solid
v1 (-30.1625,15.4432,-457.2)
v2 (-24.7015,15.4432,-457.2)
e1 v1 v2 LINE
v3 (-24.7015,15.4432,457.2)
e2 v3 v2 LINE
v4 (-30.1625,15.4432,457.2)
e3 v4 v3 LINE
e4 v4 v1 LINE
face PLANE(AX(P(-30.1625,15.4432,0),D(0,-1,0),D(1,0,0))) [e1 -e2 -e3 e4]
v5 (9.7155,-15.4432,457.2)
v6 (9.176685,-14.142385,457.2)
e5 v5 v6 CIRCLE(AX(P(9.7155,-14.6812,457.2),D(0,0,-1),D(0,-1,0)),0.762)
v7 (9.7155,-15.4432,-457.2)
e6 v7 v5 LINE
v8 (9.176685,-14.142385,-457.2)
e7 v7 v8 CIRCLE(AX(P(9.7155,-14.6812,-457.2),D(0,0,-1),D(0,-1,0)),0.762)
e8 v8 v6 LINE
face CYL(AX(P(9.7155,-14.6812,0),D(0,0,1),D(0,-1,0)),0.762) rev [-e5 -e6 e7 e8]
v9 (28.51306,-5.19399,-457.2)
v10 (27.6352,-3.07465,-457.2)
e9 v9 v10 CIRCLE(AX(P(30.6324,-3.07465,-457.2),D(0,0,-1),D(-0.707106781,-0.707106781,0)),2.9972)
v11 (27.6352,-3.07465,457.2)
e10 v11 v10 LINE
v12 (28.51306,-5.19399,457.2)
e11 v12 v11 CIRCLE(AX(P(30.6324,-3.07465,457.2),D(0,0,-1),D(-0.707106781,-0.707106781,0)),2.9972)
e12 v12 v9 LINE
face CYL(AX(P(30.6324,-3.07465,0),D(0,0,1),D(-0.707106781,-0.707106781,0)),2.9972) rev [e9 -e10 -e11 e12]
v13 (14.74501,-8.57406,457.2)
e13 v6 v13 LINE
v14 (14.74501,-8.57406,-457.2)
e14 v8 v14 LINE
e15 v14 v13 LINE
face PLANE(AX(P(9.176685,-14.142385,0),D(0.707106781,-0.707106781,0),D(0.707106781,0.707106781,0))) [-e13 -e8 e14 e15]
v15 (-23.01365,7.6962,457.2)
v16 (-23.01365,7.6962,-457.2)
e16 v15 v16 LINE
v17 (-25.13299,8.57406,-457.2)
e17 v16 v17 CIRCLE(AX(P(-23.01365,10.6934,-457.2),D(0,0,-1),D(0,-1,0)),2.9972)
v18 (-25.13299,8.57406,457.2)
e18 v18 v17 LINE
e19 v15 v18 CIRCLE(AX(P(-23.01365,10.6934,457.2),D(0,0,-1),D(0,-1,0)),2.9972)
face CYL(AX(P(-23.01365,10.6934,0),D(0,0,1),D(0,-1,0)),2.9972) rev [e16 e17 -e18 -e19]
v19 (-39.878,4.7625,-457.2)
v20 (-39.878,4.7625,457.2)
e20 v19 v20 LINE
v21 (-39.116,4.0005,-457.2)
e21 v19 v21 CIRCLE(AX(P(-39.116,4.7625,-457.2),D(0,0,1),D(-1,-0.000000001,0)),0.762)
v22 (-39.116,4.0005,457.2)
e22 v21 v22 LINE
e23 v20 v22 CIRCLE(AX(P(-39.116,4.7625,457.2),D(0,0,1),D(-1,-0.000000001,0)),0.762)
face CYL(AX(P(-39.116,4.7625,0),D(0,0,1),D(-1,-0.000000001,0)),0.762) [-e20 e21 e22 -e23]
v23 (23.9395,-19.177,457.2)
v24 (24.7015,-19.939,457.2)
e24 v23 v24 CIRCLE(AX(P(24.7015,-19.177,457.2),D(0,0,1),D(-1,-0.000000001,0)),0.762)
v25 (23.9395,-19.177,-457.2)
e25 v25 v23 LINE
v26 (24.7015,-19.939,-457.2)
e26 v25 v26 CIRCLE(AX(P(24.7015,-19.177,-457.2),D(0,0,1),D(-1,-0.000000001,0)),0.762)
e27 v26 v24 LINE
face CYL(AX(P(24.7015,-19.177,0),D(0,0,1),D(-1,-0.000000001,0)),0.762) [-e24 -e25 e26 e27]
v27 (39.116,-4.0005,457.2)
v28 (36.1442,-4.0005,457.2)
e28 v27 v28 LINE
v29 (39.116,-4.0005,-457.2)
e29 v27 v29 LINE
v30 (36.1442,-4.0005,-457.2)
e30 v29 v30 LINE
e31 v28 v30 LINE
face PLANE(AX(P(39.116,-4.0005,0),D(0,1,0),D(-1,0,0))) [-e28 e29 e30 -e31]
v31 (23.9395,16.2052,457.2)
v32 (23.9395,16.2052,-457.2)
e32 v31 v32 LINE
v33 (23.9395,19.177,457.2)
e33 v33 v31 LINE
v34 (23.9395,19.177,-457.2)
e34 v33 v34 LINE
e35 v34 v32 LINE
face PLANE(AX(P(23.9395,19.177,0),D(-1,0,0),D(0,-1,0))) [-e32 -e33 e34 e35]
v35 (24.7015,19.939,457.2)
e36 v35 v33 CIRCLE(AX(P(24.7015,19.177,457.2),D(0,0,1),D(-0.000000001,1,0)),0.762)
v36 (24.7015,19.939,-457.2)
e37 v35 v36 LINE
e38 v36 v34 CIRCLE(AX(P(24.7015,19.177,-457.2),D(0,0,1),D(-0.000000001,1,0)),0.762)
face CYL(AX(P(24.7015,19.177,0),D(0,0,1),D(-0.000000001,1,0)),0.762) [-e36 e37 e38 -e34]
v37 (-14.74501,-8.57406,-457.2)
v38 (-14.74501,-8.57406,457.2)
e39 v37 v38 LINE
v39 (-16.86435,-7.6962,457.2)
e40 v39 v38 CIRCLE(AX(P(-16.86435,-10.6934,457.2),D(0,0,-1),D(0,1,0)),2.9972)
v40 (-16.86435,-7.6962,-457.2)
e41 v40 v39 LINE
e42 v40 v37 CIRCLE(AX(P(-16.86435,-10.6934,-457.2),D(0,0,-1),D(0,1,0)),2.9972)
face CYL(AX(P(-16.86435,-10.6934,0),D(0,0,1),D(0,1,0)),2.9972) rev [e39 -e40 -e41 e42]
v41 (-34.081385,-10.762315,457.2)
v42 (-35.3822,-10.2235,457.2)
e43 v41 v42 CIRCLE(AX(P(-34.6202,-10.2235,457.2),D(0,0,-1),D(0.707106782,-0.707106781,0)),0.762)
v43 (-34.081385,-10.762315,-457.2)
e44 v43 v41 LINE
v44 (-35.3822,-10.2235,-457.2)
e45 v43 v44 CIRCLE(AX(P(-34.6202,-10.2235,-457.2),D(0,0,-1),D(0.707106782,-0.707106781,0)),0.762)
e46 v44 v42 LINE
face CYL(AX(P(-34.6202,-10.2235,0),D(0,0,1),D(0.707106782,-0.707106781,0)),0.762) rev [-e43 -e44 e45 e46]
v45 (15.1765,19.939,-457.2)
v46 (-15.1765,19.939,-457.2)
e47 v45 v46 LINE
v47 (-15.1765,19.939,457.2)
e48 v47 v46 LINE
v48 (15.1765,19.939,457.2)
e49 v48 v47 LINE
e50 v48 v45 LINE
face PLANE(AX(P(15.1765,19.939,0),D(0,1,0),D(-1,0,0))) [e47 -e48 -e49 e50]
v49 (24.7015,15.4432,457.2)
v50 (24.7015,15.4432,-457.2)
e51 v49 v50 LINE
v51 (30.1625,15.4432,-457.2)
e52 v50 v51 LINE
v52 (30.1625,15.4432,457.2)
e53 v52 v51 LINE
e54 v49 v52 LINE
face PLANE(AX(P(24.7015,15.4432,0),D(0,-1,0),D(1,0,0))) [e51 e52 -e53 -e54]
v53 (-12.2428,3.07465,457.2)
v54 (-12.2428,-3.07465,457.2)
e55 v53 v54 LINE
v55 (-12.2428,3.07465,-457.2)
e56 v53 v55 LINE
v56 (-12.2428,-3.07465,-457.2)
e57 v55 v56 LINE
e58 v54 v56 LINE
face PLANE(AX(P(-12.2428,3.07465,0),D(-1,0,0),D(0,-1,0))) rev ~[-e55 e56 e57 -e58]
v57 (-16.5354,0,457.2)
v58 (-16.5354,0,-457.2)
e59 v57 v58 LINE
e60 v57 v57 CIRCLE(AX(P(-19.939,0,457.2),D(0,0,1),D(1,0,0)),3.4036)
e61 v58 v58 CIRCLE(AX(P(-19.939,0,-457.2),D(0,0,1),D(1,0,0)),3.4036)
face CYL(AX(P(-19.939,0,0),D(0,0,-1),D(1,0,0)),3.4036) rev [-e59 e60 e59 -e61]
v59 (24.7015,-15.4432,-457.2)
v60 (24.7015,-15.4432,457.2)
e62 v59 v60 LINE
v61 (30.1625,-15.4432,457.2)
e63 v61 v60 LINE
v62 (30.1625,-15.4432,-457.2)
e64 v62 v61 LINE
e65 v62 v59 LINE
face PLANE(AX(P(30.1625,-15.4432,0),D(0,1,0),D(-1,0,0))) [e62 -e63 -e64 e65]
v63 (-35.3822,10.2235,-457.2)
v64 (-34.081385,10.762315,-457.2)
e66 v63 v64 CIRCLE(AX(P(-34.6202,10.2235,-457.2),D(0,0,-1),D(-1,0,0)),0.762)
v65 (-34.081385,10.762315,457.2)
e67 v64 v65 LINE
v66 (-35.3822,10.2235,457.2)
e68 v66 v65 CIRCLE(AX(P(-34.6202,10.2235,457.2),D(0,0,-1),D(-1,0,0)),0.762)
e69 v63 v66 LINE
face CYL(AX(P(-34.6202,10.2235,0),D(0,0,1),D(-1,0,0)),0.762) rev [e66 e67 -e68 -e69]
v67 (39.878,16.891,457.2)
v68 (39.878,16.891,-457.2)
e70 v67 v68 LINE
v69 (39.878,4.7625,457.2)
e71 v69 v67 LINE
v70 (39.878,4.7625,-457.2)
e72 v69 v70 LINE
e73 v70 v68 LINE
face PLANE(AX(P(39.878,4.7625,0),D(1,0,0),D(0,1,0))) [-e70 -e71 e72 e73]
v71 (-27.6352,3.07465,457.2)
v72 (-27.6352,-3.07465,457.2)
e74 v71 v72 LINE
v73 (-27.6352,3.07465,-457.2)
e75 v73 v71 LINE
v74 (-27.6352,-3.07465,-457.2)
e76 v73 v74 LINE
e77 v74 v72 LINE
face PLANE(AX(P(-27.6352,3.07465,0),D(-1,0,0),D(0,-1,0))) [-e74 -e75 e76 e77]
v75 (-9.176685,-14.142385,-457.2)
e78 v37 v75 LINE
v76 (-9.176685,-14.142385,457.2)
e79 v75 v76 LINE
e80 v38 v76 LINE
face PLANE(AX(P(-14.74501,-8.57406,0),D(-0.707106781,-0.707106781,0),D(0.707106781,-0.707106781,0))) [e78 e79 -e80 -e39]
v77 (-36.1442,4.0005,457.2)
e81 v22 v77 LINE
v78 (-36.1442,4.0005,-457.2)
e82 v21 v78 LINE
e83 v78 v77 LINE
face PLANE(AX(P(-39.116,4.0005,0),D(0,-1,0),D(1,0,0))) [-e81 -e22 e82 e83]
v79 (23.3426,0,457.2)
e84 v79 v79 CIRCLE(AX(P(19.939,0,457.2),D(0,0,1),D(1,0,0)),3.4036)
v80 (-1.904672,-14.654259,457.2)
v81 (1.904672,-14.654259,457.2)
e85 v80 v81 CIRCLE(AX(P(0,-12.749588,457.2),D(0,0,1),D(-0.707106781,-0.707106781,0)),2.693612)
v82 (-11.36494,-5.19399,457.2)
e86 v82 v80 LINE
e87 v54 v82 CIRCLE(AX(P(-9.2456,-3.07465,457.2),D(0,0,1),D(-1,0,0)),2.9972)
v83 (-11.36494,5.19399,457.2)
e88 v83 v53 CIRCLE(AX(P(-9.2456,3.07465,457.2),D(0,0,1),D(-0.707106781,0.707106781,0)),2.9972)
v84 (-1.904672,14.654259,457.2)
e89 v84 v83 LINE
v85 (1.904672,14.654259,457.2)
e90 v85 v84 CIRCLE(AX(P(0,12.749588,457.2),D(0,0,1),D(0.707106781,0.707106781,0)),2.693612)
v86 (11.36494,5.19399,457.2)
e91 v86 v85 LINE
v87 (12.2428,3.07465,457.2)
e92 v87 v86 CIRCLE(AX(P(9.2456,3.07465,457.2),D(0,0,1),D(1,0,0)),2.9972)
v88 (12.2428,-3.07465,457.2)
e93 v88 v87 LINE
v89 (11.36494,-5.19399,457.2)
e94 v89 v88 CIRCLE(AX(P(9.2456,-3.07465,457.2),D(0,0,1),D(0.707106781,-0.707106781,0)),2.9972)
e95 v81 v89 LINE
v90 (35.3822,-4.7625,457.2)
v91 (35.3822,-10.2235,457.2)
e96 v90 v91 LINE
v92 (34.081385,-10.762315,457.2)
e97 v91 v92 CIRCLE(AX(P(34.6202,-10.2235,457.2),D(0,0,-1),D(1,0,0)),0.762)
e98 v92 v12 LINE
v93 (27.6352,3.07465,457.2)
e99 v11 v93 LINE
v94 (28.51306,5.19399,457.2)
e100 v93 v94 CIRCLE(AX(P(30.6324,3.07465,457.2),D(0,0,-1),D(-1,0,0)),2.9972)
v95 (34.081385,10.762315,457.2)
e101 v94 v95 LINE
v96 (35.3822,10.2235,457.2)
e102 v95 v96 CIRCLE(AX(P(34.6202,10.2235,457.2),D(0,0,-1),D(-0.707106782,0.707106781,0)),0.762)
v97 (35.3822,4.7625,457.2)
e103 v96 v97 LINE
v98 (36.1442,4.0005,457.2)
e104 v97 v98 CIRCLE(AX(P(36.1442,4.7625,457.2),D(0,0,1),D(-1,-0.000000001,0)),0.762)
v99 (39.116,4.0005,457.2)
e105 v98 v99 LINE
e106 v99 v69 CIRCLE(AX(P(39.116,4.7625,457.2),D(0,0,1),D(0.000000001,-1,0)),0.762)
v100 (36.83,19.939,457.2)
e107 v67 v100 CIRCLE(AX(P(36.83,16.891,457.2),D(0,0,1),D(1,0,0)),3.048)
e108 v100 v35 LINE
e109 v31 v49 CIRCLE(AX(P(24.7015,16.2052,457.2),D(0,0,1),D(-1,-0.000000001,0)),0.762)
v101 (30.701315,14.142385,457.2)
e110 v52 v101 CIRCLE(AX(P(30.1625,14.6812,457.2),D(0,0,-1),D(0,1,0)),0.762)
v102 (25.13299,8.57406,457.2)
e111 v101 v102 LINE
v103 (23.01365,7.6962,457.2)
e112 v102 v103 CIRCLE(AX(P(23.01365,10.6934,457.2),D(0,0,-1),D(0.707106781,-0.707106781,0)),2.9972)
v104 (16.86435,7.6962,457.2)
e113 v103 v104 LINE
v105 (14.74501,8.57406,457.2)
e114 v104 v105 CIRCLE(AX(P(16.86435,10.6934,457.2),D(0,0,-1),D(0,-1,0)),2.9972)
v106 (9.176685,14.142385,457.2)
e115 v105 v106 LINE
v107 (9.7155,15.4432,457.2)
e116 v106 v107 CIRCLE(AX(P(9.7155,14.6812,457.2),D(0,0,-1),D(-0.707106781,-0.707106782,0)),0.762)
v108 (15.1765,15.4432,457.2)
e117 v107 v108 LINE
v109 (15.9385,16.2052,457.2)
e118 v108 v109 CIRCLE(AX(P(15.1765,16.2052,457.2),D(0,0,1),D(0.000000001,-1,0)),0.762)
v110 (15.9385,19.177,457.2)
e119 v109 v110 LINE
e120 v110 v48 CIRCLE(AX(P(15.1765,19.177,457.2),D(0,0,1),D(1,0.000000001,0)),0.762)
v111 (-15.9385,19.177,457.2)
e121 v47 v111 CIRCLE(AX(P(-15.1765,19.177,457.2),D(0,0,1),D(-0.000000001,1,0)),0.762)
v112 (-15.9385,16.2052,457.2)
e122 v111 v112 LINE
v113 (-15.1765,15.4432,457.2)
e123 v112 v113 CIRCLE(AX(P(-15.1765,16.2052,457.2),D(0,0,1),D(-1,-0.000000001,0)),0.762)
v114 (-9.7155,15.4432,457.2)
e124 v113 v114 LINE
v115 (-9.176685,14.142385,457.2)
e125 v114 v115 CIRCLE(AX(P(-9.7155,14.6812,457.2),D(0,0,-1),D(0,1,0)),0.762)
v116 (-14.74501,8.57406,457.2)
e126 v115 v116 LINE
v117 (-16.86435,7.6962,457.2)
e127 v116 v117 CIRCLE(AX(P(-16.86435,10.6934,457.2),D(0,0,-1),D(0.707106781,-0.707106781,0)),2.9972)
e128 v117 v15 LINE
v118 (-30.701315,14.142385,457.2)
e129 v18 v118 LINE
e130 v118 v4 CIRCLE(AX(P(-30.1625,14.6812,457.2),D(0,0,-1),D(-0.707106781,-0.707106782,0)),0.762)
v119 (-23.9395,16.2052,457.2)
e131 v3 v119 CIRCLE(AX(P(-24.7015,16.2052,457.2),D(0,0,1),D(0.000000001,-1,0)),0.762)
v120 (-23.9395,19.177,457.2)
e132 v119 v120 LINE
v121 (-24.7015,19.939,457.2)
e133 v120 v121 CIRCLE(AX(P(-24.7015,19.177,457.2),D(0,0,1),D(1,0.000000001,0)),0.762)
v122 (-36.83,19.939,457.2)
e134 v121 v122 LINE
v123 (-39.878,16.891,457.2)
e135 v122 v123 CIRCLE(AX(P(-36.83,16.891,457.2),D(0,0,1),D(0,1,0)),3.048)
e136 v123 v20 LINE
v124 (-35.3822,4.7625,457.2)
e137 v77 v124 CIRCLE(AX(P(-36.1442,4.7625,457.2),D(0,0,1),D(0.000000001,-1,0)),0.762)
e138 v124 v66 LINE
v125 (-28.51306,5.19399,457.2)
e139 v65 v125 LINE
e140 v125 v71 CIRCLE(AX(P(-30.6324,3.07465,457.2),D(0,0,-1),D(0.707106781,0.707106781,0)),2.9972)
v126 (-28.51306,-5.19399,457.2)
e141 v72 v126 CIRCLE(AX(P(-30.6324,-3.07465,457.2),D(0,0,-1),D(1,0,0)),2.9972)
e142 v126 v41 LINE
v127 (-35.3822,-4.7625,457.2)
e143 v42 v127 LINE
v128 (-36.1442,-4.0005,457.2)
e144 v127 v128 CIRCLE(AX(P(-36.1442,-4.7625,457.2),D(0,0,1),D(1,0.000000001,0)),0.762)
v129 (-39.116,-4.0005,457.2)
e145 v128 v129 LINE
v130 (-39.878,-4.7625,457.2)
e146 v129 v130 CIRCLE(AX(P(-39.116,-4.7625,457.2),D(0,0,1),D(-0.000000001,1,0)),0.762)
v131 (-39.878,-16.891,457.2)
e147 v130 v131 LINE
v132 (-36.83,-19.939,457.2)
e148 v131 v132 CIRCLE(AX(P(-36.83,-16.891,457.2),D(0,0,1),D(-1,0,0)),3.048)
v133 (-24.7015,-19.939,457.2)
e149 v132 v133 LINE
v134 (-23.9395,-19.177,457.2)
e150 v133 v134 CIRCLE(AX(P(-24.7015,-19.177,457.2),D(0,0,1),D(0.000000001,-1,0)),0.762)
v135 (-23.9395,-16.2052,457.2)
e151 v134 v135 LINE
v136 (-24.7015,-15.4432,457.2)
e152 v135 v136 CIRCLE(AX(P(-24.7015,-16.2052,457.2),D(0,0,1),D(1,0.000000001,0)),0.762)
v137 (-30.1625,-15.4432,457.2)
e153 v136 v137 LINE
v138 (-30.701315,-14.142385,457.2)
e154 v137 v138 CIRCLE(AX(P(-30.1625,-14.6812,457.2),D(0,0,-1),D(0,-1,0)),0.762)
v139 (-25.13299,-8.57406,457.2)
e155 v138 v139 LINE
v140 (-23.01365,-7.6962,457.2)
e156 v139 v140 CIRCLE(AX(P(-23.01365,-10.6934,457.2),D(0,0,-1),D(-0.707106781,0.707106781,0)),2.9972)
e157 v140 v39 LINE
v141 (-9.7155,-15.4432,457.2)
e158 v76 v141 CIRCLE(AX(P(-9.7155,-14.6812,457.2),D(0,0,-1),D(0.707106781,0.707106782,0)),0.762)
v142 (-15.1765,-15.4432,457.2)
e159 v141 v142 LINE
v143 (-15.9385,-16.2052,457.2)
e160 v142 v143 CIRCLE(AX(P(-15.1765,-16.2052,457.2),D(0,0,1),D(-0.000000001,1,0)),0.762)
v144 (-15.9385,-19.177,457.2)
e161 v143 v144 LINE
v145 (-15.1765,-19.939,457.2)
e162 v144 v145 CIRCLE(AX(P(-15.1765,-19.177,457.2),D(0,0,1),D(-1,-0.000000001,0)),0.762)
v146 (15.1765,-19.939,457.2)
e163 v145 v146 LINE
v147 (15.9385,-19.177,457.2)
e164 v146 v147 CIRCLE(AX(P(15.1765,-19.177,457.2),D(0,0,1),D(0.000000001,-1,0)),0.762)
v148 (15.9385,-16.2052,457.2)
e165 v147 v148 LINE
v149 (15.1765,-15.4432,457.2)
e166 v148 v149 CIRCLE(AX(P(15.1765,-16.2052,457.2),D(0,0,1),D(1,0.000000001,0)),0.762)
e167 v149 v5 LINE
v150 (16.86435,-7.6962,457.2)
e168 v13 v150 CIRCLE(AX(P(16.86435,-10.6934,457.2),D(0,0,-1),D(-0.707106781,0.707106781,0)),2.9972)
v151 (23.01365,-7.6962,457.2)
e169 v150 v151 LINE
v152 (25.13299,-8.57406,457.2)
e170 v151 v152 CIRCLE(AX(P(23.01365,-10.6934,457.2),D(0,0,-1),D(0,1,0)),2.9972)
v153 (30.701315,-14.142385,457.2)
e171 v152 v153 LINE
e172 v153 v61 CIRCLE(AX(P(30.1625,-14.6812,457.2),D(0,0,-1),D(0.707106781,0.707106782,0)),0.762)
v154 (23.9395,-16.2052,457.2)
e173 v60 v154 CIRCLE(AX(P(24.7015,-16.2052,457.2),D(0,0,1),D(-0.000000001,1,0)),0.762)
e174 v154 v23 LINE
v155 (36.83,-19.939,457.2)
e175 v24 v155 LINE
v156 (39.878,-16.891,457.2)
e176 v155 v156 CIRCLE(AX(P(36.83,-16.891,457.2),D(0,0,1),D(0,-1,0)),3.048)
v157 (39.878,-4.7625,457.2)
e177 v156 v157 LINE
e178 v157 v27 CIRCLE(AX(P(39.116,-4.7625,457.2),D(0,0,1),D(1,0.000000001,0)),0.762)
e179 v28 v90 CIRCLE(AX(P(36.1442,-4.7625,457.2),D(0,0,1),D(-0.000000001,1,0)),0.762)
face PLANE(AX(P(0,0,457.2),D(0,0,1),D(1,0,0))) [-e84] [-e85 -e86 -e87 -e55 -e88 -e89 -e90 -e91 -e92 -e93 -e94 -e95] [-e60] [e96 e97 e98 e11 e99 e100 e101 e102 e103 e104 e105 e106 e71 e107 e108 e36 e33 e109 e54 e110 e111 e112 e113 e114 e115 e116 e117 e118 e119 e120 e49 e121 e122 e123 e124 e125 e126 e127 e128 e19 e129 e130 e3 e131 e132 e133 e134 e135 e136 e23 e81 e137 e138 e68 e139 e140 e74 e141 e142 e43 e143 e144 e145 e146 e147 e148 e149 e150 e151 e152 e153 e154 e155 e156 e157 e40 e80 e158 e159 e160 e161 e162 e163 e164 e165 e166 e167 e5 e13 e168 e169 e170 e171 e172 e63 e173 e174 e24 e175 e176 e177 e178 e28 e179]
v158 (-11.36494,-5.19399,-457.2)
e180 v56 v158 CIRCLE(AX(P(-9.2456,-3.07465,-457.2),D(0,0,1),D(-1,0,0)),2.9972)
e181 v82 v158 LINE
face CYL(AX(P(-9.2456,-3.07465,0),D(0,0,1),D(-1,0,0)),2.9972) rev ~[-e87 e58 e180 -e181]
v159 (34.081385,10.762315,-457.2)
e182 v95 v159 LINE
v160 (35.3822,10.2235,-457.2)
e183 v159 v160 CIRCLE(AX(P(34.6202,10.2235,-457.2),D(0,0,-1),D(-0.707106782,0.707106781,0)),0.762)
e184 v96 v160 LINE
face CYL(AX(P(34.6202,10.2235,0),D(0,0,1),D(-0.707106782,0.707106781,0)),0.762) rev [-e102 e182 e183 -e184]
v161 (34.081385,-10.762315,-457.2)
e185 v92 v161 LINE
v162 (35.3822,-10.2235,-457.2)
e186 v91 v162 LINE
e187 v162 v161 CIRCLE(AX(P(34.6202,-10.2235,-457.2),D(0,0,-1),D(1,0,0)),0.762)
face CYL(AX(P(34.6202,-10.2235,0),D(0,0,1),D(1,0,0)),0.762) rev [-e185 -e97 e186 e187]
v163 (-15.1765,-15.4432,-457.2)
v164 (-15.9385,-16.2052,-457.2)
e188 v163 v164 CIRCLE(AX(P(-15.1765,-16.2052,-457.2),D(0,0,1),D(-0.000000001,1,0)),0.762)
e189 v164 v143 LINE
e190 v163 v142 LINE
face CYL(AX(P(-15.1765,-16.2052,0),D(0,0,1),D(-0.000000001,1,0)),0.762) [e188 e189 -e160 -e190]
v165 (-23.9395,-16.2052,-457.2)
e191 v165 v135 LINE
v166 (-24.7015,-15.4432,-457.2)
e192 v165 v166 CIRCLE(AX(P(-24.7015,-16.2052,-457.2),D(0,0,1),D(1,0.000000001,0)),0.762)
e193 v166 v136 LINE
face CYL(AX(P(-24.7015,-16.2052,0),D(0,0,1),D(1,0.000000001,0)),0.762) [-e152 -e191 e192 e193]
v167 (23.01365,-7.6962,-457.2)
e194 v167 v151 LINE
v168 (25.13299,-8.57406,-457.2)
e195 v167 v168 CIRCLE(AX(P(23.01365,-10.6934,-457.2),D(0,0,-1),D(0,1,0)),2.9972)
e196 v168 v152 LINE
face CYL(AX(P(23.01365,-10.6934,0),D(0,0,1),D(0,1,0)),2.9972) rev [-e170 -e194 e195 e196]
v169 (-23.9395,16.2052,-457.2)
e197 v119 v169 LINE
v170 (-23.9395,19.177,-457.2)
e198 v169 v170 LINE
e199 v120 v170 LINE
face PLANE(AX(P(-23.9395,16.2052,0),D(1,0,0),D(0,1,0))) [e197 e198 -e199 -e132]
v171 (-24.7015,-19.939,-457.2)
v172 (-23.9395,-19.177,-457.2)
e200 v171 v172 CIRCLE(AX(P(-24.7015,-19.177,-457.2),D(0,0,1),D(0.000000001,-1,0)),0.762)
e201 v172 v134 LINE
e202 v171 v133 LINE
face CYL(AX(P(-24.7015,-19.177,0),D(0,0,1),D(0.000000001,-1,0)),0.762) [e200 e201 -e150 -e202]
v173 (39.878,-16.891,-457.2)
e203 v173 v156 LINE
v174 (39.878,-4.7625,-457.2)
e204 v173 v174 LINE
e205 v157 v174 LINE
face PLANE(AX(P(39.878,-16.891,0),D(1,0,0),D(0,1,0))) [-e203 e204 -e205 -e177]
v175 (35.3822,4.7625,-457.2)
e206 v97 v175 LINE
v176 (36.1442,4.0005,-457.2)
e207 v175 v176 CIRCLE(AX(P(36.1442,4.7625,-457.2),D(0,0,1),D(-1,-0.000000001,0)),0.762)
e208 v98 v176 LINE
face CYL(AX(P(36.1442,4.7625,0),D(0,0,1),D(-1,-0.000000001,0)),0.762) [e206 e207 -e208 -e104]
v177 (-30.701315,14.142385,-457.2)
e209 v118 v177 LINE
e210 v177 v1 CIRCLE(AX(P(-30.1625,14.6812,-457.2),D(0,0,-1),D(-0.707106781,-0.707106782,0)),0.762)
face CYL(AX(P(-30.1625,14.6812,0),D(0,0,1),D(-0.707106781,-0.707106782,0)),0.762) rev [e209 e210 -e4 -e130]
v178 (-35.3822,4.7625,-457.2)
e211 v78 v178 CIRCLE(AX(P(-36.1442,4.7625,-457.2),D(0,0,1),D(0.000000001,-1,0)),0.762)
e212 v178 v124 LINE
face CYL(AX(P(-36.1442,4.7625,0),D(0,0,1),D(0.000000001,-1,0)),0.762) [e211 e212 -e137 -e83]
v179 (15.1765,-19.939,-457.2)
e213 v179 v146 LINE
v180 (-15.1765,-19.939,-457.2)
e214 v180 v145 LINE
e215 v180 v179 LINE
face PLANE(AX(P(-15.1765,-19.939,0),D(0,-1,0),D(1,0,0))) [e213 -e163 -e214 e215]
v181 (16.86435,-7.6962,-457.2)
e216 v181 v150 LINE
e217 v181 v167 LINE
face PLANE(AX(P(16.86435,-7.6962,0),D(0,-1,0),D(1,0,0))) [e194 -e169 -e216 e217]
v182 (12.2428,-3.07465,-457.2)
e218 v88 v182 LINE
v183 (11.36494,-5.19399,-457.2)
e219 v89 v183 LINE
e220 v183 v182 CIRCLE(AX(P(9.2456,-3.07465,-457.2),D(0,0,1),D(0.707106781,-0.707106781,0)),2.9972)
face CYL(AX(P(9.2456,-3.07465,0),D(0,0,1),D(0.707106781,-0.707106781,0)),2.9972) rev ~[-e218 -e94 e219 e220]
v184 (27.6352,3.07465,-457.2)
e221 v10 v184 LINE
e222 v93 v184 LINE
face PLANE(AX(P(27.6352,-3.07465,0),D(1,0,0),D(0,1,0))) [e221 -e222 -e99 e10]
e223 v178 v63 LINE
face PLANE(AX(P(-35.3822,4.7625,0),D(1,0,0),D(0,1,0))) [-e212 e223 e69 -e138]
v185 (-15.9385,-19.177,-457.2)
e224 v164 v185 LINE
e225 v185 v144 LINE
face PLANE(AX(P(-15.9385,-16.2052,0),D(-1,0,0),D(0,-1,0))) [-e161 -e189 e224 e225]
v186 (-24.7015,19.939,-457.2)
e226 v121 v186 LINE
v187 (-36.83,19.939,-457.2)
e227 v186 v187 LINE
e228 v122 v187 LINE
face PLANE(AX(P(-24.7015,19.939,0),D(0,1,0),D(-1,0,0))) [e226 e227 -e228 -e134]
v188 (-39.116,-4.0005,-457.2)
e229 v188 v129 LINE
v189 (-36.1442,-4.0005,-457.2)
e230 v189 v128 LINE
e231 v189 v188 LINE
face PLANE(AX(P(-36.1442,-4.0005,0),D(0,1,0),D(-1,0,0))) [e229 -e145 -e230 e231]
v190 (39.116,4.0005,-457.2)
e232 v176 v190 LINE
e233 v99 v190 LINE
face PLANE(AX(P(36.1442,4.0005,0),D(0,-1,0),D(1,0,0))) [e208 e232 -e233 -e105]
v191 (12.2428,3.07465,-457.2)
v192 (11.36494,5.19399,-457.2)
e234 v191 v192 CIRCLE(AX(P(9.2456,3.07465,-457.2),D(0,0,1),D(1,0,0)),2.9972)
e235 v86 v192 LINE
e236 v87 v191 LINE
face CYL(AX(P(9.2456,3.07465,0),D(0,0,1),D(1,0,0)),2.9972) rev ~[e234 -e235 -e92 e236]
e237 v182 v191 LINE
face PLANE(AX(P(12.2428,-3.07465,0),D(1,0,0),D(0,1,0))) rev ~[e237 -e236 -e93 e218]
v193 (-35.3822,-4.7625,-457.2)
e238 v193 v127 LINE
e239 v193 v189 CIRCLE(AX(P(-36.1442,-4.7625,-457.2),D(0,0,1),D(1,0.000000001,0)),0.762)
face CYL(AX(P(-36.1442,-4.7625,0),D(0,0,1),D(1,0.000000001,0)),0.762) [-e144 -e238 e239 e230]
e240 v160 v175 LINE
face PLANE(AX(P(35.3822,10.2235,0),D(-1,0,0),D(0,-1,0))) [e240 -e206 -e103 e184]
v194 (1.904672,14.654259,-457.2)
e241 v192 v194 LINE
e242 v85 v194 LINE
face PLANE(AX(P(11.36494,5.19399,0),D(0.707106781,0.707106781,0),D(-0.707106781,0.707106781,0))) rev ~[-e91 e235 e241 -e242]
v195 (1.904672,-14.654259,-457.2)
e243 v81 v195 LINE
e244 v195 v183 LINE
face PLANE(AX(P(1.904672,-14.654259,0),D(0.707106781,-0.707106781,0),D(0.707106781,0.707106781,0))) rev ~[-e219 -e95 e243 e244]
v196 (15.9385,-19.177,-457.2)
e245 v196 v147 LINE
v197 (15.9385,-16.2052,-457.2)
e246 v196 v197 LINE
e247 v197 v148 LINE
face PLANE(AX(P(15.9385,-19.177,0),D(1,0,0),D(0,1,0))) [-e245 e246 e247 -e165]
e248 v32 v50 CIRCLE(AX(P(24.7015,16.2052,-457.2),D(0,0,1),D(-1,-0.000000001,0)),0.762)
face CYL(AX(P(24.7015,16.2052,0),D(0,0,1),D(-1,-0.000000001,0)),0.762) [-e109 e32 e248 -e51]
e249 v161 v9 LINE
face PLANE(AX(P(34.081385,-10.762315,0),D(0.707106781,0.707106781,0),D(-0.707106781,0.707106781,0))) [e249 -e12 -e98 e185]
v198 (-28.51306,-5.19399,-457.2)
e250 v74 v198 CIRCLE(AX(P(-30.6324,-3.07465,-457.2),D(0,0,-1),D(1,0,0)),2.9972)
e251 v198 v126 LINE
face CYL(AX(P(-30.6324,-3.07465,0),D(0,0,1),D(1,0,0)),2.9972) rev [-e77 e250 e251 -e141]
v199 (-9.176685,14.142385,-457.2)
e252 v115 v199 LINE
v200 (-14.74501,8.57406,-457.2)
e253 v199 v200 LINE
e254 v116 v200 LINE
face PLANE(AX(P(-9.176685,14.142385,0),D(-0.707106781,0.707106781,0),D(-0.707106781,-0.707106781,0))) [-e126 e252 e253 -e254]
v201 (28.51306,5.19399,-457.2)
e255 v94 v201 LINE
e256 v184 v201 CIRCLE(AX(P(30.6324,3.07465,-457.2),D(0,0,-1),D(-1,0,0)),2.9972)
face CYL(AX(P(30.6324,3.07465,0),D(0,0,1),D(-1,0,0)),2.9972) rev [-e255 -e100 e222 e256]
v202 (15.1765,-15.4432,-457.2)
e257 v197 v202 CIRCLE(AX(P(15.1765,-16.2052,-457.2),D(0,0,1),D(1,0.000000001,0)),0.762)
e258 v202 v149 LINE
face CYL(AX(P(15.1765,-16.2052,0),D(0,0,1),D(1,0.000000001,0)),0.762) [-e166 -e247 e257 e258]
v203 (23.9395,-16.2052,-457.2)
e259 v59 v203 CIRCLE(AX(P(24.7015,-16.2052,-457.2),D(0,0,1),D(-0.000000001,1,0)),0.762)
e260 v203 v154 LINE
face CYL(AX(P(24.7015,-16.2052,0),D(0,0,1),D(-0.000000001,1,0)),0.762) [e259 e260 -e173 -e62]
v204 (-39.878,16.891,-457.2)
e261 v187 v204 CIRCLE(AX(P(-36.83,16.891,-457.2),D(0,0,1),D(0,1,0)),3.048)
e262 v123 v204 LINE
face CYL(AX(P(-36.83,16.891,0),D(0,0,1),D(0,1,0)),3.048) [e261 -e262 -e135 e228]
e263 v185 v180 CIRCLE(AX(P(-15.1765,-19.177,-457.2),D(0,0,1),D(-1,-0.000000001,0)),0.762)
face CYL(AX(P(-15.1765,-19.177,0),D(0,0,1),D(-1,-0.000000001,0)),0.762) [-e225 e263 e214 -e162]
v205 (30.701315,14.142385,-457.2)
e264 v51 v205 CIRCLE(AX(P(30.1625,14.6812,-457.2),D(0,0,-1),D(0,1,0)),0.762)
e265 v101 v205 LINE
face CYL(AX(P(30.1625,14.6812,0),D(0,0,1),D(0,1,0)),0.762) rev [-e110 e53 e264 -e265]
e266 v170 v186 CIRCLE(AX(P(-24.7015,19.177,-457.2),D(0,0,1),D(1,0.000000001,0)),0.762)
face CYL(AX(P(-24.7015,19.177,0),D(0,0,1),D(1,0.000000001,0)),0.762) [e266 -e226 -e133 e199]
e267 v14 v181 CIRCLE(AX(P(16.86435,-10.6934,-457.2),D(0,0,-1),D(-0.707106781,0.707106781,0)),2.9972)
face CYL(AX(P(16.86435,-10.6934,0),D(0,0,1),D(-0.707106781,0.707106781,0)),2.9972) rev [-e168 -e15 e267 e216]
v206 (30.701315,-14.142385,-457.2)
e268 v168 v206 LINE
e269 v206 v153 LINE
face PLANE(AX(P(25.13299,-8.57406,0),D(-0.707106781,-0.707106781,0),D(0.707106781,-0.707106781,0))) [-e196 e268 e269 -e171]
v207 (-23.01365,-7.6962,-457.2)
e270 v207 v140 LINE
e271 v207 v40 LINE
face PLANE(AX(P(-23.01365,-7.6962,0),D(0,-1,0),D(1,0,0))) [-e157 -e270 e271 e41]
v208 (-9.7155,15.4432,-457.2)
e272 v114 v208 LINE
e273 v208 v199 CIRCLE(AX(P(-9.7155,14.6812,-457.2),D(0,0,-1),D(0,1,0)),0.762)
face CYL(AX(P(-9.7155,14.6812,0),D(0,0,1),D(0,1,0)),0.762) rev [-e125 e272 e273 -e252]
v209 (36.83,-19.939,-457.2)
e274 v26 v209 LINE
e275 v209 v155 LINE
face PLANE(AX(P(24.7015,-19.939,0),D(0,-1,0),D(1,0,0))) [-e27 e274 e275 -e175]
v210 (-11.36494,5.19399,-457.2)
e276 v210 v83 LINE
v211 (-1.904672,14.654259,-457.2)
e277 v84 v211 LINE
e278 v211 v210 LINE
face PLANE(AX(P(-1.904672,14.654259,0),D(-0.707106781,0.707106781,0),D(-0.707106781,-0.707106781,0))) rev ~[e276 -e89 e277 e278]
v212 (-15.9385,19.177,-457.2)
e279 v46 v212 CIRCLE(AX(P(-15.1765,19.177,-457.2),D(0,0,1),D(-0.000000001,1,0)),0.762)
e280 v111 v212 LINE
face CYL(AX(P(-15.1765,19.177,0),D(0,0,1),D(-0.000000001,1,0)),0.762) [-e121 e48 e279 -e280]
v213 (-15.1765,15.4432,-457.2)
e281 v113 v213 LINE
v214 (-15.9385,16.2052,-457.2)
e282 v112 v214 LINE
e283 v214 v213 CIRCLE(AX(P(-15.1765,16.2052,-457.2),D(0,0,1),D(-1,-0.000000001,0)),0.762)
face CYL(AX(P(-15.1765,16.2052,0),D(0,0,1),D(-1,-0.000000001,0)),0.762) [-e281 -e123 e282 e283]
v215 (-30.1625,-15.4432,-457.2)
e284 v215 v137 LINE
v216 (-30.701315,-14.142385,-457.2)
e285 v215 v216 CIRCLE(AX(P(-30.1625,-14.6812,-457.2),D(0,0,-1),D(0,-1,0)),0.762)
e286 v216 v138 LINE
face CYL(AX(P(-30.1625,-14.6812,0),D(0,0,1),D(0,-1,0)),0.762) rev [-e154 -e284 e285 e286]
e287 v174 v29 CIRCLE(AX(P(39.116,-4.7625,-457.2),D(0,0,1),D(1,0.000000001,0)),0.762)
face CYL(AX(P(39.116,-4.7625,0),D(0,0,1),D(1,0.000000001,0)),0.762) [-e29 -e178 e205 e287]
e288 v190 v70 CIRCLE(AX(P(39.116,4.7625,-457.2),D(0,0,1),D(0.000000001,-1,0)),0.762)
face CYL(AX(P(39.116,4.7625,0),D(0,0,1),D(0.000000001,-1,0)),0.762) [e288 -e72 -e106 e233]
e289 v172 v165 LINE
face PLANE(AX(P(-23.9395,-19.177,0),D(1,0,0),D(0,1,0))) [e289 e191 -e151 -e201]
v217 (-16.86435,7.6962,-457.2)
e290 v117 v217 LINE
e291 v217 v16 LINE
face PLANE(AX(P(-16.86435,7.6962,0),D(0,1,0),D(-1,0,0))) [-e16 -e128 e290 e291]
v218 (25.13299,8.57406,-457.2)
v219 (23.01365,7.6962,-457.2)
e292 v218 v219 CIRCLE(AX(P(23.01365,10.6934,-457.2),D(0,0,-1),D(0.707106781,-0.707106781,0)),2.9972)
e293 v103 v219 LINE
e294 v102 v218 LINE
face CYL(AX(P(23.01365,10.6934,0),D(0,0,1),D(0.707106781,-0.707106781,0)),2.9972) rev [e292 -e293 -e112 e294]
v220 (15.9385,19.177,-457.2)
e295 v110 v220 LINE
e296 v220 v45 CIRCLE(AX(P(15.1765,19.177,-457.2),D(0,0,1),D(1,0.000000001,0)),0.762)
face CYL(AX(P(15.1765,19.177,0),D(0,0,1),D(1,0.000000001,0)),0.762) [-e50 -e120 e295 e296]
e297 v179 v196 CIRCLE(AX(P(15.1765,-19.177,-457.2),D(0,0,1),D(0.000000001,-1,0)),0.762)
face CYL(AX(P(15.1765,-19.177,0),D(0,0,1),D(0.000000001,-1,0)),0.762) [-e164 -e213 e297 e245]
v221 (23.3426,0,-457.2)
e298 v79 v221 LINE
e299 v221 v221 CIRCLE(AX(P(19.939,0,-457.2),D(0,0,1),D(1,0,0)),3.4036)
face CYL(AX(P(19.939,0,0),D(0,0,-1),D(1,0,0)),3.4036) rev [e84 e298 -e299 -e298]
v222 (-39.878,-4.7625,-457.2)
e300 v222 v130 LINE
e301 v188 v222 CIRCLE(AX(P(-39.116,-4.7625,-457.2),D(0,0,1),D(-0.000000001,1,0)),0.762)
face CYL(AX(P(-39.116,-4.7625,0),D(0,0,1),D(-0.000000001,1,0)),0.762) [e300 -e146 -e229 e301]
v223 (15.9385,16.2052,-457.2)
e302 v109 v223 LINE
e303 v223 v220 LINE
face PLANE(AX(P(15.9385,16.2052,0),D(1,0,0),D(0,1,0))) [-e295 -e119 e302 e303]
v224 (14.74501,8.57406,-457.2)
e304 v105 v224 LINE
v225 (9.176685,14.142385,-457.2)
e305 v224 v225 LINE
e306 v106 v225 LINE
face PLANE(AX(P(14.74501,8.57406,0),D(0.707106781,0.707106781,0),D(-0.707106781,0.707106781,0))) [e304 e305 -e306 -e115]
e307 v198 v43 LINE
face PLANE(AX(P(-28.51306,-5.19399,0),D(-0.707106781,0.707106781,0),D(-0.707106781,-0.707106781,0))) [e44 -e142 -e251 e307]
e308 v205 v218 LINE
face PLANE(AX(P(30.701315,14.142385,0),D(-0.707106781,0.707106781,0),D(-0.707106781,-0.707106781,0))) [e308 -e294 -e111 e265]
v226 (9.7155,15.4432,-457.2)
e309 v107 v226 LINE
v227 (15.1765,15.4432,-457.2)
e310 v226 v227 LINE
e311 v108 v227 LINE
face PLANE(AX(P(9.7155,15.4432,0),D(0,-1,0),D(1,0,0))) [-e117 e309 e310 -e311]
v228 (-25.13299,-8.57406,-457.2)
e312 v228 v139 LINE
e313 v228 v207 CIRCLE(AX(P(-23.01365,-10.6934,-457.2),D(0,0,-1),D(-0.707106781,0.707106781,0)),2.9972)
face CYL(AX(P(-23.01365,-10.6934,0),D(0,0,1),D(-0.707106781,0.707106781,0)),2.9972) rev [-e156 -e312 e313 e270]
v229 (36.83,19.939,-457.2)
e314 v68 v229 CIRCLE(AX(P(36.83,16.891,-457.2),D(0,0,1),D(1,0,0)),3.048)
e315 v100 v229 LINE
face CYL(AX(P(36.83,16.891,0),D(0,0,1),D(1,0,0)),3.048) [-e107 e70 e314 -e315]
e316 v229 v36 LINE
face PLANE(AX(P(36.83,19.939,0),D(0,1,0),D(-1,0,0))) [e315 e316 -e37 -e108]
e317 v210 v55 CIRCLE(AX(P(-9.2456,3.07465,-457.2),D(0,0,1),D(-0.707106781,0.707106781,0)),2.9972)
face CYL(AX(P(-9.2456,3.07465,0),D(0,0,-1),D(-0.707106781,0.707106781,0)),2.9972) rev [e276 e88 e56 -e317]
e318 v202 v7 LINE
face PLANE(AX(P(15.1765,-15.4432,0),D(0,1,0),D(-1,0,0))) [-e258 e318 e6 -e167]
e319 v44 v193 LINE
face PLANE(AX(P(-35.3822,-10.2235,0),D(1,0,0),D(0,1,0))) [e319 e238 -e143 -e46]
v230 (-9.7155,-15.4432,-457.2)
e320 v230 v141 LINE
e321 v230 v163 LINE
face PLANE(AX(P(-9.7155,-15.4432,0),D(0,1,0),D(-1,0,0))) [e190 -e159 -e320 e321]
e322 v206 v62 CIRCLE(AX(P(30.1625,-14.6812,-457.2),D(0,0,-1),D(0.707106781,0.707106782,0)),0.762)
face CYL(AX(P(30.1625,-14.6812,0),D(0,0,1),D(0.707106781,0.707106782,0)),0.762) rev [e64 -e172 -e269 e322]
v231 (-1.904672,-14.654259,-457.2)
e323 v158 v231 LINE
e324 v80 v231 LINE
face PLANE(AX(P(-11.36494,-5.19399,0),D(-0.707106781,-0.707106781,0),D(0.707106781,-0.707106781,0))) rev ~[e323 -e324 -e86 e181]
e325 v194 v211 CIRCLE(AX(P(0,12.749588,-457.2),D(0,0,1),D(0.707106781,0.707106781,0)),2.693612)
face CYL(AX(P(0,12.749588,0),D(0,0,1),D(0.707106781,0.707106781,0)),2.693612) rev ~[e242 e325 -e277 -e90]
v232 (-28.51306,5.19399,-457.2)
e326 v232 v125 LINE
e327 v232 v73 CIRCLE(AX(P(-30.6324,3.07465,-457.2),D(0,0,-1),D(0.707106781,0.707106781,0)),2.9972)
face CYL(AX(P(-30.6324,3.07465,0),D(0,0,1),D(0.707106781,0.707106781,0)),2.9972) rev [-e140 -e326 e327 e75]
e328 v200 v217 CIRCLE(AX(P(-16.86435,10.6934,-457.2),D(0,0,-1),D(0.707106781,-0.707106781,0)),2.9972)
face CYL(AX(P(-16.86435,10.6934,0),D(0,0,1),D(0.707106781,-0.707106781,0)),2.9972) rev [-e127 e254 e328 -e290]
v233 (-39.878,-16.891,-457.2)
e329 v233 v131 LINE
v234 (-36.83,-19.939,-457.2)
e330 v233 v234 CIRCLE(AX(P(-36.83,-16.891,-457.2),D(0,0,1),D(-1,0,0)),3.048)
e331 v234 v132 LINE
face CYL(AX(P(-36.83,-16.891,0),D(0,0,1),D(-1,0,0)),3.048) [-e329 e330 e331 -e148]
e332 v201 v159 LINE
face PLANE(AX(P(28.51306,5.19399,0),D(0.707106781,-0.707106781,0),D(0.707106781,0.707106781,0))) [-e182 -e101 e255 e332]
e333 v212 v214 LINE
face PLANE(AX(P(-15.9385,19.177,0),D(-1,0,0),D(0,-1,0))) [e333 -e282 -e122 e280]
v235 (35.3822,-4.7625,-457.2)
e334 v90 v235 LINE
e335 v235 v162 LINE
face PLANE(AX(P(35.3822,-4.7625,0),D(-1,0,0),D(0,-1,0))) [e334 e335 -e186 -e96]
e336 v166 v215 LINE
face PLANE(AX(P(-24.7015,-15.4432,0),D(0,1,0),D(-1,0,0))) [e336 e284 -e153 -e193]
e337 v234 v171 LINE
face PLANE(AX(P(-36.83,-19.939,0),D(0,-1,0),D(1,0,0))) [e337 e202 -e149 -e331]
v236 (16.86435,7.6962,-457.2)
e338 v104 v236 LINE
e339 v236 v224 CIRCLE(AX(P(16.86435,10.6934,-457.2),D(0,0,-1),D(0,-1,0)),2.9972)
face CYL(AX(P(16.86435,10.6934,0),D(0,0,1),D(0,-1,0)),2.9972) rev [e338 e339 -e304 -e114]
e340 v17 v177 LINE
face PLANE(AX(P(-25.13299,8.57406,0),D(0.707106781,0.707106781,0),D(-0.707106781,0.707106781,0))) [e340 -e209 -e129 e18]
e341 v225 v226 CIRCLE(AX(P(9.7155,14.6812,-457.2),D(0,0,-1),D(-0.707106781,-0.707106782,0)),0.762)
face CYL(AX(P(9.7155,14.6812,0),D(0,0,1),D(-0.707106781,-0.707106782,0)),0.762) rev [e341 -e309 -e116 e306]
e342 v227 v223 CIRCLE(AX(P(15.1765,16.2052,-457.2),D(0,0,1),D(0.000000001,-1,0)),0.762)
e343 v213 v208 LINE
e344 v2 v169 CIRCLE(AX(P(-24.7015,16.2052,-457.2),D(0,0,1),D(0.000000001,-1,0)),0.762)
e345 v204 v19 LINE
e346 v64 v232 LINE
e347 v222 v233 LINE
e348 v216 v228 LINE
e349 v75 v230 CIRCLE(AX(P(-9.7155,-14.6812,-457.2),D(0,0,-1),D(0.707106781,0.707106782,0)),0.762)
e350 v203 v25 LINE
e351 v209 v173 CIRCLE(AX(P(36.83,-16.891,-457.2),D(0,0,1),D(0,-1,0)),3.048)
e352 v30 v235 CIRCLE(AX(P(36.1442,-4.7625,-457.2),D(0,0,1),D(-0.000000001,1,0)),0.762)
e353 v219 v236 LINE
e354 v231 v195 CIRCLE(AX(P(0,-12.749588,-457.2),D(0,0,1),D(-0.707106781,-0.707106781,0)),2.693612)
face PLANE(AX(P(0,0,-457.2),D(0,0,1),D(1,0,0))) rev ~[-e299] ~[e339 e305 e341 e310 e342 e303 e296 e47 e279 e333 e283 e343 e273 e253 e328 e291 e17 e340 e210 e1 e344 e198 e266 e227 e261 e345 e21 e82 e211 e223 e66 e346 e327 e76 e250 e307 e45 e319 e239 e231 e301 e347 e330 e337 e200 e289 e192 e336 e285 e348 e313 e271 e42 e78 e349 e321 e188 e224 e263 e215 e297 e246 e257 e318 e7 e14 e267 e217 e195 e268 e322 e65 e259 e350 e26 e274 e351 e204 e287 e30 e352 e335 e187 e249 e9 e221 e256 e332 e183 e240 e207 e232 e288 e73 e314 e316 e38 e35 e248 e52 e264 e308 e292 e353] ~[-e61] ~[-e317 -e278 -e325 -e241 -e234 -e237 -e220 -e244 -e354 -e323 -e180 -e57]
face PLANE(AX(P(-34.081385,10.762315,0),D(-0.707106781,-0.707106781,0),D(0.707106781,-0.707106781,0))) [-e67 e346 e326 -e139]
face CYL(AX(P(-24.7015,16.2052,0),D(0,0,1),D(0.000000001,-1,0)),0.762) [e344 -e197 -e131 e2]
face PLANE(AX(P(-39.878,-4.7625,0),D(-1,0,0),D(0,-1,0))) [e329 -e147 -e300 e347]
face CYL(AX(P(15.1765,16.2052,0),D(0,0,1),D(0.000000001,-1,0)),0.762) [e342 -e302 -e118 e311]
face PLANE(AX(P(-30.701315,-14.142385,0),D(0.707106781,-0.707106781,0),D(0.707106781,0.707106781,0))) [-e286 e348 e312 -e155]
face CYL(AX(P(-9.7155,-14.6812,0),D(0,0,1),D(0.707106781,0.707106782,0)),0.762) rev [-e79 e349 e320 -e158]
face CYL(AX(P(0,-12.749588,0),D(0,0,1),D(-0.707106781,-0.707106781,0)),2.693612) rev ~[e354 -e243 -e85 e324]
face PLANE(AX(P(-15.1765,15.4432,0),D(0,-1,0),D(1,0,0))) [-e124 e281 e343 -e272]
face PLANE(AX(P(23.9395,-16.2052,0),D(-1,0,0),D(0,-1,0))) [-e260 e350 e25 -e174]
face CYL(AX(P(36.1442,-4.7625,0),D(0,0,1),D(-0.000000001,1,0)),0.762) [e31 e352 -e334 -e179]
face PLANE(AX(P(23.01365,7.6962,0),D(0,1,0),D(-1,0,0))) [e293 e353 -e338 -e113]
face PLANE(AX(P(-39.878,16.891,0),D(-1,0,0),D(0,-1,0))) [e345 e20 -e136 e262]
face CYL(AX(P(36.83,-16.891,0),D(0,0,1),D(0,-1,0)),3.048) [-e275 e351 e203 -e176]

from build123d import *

# Parameters (mm, degrees)
SKETCH1_R           = 3.4036
BOSS_EXTRUDE1_DEPTH = 457.2


with BuildPart() as part:
    # Sketch1 → Boss-Extrude1 (new body, symmetric)
    with BuildSketch(Plane.XY):
        with BuildLine():
            Line((-39.878, 16.891), (-39.878, 4.7625))
            ThreePointArc((-39.878, 4.7625), (-39.654815367, 4.223684633), (-39.116, 4.0005))
            Line((-39.116, 4.0005), (-36.1442, 4.0005))
            ThreePointArc((-36.1442, 4.0005), (-35.605384633, 4.223684633), (-35.3822, 4.7625))
            Line((-35.3822, 4.7625), (-35.3822, 10.2235))
            ThreePointArc((-35.3822, 10.2235), (-34.911804775, 10.927496204), (-34.081384633, 10.762315367))
            Line((-34.081384633, 10.762315367), (-28.513059555, 5.19399029))
            ThreePointArc((-28.513059555, 5.19399029), (-27.863348265, 4.221628629), (-27.6352, 3.074649845))
            Line((-27.6352, 3.074649845), (-27.6352, -3.074649845))
            ThreePointArc((-27.6352, -3.074649845), (-27.863348265, -4.221628629), (-28.513059555, -5.19399029))
            Line((-28.513059555, -5.19399029), (-34.081384633, -10.762315367))
            ThreePointArc((-34.081384633, -10.762315367), (-34.911804775, -10.927496204), (-35.3822, -10.2235))
            Line((-35.3822, -10.2235), (-35.3822, -4.7625))
            ThreePointArc((-35.3822, -4.7625), (-35.605384633, -4.223684633), (-36.1442, -4.0005))
            Line((-36.1442, -4.0005), (-39.116, -4.0005))
            ThreePointArc((-39.116, -4.0005), (-39.654815367, -4.223684633), (-39.878, -4.7625))
            Line((-39.878, -4.7625), (-39.878, -16.891))
            ThreePointArc((-39.878, -16.891), (-38.985261469, -19.046261469), (-36.83, -19.939))
            Line((-36.83, -19.939), (-24.7015, -19.939))
            ThreePointArc((-24.7015, -19.939), (-24.162684633, -19.715815367), (-23.9395, -19.177))
            Line((-23.9395, -19.177), (-23.9395, -16.2052))
            ThreePointArc((-23.9395, -16.2052), (-24.162684633, -15.666384633), (-24.7015, -15.4432))
            Line((-24.7015, -15.4432), (-30.1625, -15.4432))
            ThreePointArc((-30.1625, -15.4432), (-30.866496204, -14.972804775), (-30.701315367, -14.142384633))
            Line((-30.701315367, -14.142384633), (-25.13299029, -8.574059555))
            ThreePointArc((-25.13299029, -8.574059555), (-24.160628629, -7.924348265), (-23.013649845, -7.6962))
            Line((-23.013649845, -7.6962), (-16.864350155, -7.6962))
            ThreePointArc((-16.864350155, -7.6962), (-15.717371371, -7.924348265), (-14.74500971, -8.574059555))
            Line((-14.74500971, -8.574059555), (-9.176684633, -14.142384633))
            ThreePointArc((-9.176684633, -14.142384633), (-9.011503796, -14.972804775), (-9.7155, -15.4432))
            Line((-9.7155, -15.4432), (-15.1765, -15.4432))
            ThreePointArc((-15.1765, -15.4432), (-15.715315367, -15.666384633), (-15.9385, -16.2052))
            Line((-15.9385, -16.2052), (-15.9385, -19.177))
            ThreePointArc((-15.9385, -19.177), (-15.715315367, -19.715815367), (-15.1765, -19.939))
            Line((-15.1765, -19.939), (15.1765, -19.939))
            ThreePointArc((15.1765, -19.939), (15.715315367, -19.715815367), (15.9385, -19.177))
            Line((15.9385, -19.177), (15.9385, -16.2052))
            ThreePointArc((15.9385, -16.2052), (15.715315367, -15.666384633), (15.1765, -15.4432))
            Line((15.1765, -15.4432), (9.7155, -15.4432))
            ThreePointArc((9.7155, -15.4432), (9.011503796, -14.972804775), (9.176684633, -14.142384633))
            Line((9.176684633, -14.142384633), (14.74500971, -8.574059555))
            ThreePointArc((14.74500971, -8.574059555), (15.717371371, -7.924348265), (16.864350155, -7.6962))
            Line((16.864350155, -7.6962), (23.013649845, -7.6962))
            ThreePointArc((23.013649845, -7.6962), (24.160628629, -7.924348265), (25.13299029, -8.574059555))
            Line((25.13299029, -8.574059555), (30.701315367, -14.142384633))
            ThreePointArc((30.701315367, -14.142384633), (30.866496204, -14.972804775), (30.1625, -15.4432))
            Line((30.1625, -15.4432), (24.7015, -15.4432))
            ThreePointArc((24.7015, -15.4432), (24.162684633, -15.666384633), (23.9395, -16.2052))
            Line((23.9395, -16.2052), (23.9395, -19.177))
            ThreePointArc((23.9395, -19.177), (24.162684633, -19.715815367), (24.7015, -19.939))
            Line((24.7015, -19.939), (36.83, -19.939))
            ThreePointArc((36.83, -19.939), (38.985261469, -19.046261469), (39.878, -16.891))
            Line((39.878, -16.891), (39.878, -4.7625))
            ThreePointArc((39.878, -4.7625), (39.654815367, -4.223684633), (39.116, -4.0005))
            Line((39.116, -4.0005), (36.1442, -4.0005))
            ThreePointArc((36.1442, -4.0005), (35.605384633, -4.223684633), (35.3822, -4.7625))
            Line((35.3822, -4.7625), (35.3822, -10.2235))
            ThreePointArc((35.3822, -10.2235), (34.911804775, -10.927496204), (34.081384633, -10.762315367))
            Line((34.081384633, -10.762315367), (28.513059555, -5.19399029))
            ThreePointArc((28.513059555, -5.19399029), (27.863348265, -4.221628629), (27.6352, -3.074649845))
            Line((27.6352, -3.074649845), (27.6352, 3.074649845))
            ThreePointArc((27.6352, 3.074649845), (27.863348265, 4.221628629), (28.513059555, 5.19399029))
            Line((28.513059555, 5.19399029), (34.081384633, 10.762315367))
            ThreePointArc((34.081384633, 10.762315367), (34.911804775, 10.927496204), (35.3822, 10.2235))
            Line((35.3822, 10.2235), (35.3822, 4.7625))
            ThreePointArc((35.3822, 4.7625), (35.605384633, 4.223684633), (36.1442, 4.0005))
            Line((36.1442, 4.0005), (39.116, 4.0005))
            ThreePointArc((39.116, 4.0005), (39.654815367, 4.223684633), (39.878, 4.7625))
            Line((39.878, 4.7625), (39.878, 16.891))
            ThreePointArc((39.878, 16.891), (38.985261469, 19.046261469), (36.83, 19.939))
            Line((36.83, 19.939), (24.7015, 19.939))
            ThreePointArc((24.7015, 19.939), (24.162684633, 19.715815367), (23.9395, 19.177))
            Line((23.9395, 19.177), (23.9395, 16.2052))
            ThreePointArc((23.9395, 16.2052), (24.162684633, 15.666384633), (24.7015, 15.4432))
            Line((24.7015, 15.4432), (30.1625, 15.4432))
            ThreePointArc((30.1625, 15.4432), (30.866496204, 14.972804775), (30.701315367, 14.142384633))
            Line((30.701315367, 14.142384633), (25.13299029, 8.574059555))
            ThreePointArc((25.13299029, 8.574059555), (24.160628629, 7.924348265), (23.013649845, 7.6962))
            Line((23.013649845, 7.6962), (16.864350155, 7.6962))
            ThreePointArc((16.864350155, 7.6962), (15.717371371, 7.924348265), (14.74500971, 8.574059555))
            Line((14.74500971, 8.574059555), (9.176684633, 14.142384633))
            ThreePointArc((9.176684633, 14.142384633), (9.011503796, 14.972804775), (9.7155, 15.4432))
            Line((9.7155, 15.4432), (15.1765, 15.4432))
            ThreePointArc((15.1765, 15.4432), (15.715315367, 15.666384633), (15.9385, 16.2052))
            Line((15.9385, 16.2052), (15.9385, 19.177))
            ThreePointArc((15.9385, 19.177), (15.715315367, 19.715815367), (15.1765, 19.939))
            Line((15.1765, 19.939), (-15.1765, 19.939))
            ThreePointArc((-15.1765, 19.939), (-15.715315367, 19.715815367), (-15.9385, 19.177))
            Line((-15.9385, 19.177), (-15.9385, 16.2052))
            ThreePointArc((-15.9385, 16.2052), (-15.715315367, 15.666384633), (-15.1765, 15.4432))
            Line((-15.1765, 15.4432), (-9.7155, 15.4432))
            ThreePointArc((-9.7155, 15.4432), (-9.011503796, 14.972804775), (-9.176684633, 14.142384633))
            Line((-9.176684633, 14.142384633), (-14.74500971, 8.574059555))
            ThreePointArc((-14.74500971, 8.574059555), (-15.717371371, 7.924348265), (-16.864350155, 7.6962))
            Line((-16.864350155, 7.6962), (-23.013649845, 7.6962))
            ThreePointArc((-23.013649845, 7.6962), (-24.160628629, 7.924348265), (-25.13299029, 8.574059555))
            Line((-25.13299029, 8.574059555), (-30.701315367, 14.142384633))
            ThreePointArc((-30.701315367, 14.142384633), (-30.866496204, 14.972804775), (-30.1625, 15.4432))
            Line((-30.1625, 15.4432), (-24.7015, 15.4432))
            ThreePointArc((-24.7015, 15.4432), (-24.162684633, 15.666384633), (-23.9395, 16.2052))
            Line((-23.9395, 16.2052), (-23.9395, 19.177))
            ThreePointArc((-23.9395, 19.177), (-24.162684633, 19.715815367), (-24.7015, 19.939))
            Line((-24.7015, 19.939), (-36.83, 19.939))
            ThreePointArc((-36.83, 19.939), (-38.985261469, 19.046261469), (-39.878, 16.891))
        make_face()
        with Locations((-19.939, 0)):
            Circle(SKETCH1_R, mode=Mode.SUBTRACT)
        with Locations((19.939, 0)):
            Circle(SKETCH1_R, mode=Mode.SUBTRACT)
        with BuildLine():
            Line((-12.2428, 3.074649845), (-12.2428, -3.074649845))
            ThreePointArc((-12.2428, -3.074649845), (-12.014651735, -4.221628629), (-11.364940445, -5.19399029))
            Line((-11.364940445, -5.19399029), (-1.904671503, -14.654259232))
            ThreePointArc((-1.904671503, -14.654259232), (0, -15.4432), (1.904671503, -14.654259232))
            Line((1.904671503, -14.654259232), (11.364940445, -5.19399029))
            ThreePointArc((11.364940445, -5.19399029), (12.014651735, -4.221628629), (12.2428, -3.074649845))
            Line((12.2428, -3.074649845), (12.2428, 3.074649845))
            ThreePointArc((12.2428, 3.074649845), (12.014651735, 4.221628629), (11.364940445, 5.19399029))
            Line((11.364940445, 5.19399029), (1.904671503, 14.654259232))
            ThreePointArc((1.904671503, 14.654259232), (0, 15.4432), (-1.904671503, 14.654259232))
            Line((-1.904671503, 14.654259232), (-11.364940445, 5.19399029))
            ThreePointArc((-11.364940445, 5.19399029), (-12.014651735, 4.221628629), (-12.2428, 3.074649845))
        make_face(mode=Mode.SUBTRACT)
    extrude(amount=BOSS_EXTRUDE1_DEPTH, both=True)


solid = part.part
